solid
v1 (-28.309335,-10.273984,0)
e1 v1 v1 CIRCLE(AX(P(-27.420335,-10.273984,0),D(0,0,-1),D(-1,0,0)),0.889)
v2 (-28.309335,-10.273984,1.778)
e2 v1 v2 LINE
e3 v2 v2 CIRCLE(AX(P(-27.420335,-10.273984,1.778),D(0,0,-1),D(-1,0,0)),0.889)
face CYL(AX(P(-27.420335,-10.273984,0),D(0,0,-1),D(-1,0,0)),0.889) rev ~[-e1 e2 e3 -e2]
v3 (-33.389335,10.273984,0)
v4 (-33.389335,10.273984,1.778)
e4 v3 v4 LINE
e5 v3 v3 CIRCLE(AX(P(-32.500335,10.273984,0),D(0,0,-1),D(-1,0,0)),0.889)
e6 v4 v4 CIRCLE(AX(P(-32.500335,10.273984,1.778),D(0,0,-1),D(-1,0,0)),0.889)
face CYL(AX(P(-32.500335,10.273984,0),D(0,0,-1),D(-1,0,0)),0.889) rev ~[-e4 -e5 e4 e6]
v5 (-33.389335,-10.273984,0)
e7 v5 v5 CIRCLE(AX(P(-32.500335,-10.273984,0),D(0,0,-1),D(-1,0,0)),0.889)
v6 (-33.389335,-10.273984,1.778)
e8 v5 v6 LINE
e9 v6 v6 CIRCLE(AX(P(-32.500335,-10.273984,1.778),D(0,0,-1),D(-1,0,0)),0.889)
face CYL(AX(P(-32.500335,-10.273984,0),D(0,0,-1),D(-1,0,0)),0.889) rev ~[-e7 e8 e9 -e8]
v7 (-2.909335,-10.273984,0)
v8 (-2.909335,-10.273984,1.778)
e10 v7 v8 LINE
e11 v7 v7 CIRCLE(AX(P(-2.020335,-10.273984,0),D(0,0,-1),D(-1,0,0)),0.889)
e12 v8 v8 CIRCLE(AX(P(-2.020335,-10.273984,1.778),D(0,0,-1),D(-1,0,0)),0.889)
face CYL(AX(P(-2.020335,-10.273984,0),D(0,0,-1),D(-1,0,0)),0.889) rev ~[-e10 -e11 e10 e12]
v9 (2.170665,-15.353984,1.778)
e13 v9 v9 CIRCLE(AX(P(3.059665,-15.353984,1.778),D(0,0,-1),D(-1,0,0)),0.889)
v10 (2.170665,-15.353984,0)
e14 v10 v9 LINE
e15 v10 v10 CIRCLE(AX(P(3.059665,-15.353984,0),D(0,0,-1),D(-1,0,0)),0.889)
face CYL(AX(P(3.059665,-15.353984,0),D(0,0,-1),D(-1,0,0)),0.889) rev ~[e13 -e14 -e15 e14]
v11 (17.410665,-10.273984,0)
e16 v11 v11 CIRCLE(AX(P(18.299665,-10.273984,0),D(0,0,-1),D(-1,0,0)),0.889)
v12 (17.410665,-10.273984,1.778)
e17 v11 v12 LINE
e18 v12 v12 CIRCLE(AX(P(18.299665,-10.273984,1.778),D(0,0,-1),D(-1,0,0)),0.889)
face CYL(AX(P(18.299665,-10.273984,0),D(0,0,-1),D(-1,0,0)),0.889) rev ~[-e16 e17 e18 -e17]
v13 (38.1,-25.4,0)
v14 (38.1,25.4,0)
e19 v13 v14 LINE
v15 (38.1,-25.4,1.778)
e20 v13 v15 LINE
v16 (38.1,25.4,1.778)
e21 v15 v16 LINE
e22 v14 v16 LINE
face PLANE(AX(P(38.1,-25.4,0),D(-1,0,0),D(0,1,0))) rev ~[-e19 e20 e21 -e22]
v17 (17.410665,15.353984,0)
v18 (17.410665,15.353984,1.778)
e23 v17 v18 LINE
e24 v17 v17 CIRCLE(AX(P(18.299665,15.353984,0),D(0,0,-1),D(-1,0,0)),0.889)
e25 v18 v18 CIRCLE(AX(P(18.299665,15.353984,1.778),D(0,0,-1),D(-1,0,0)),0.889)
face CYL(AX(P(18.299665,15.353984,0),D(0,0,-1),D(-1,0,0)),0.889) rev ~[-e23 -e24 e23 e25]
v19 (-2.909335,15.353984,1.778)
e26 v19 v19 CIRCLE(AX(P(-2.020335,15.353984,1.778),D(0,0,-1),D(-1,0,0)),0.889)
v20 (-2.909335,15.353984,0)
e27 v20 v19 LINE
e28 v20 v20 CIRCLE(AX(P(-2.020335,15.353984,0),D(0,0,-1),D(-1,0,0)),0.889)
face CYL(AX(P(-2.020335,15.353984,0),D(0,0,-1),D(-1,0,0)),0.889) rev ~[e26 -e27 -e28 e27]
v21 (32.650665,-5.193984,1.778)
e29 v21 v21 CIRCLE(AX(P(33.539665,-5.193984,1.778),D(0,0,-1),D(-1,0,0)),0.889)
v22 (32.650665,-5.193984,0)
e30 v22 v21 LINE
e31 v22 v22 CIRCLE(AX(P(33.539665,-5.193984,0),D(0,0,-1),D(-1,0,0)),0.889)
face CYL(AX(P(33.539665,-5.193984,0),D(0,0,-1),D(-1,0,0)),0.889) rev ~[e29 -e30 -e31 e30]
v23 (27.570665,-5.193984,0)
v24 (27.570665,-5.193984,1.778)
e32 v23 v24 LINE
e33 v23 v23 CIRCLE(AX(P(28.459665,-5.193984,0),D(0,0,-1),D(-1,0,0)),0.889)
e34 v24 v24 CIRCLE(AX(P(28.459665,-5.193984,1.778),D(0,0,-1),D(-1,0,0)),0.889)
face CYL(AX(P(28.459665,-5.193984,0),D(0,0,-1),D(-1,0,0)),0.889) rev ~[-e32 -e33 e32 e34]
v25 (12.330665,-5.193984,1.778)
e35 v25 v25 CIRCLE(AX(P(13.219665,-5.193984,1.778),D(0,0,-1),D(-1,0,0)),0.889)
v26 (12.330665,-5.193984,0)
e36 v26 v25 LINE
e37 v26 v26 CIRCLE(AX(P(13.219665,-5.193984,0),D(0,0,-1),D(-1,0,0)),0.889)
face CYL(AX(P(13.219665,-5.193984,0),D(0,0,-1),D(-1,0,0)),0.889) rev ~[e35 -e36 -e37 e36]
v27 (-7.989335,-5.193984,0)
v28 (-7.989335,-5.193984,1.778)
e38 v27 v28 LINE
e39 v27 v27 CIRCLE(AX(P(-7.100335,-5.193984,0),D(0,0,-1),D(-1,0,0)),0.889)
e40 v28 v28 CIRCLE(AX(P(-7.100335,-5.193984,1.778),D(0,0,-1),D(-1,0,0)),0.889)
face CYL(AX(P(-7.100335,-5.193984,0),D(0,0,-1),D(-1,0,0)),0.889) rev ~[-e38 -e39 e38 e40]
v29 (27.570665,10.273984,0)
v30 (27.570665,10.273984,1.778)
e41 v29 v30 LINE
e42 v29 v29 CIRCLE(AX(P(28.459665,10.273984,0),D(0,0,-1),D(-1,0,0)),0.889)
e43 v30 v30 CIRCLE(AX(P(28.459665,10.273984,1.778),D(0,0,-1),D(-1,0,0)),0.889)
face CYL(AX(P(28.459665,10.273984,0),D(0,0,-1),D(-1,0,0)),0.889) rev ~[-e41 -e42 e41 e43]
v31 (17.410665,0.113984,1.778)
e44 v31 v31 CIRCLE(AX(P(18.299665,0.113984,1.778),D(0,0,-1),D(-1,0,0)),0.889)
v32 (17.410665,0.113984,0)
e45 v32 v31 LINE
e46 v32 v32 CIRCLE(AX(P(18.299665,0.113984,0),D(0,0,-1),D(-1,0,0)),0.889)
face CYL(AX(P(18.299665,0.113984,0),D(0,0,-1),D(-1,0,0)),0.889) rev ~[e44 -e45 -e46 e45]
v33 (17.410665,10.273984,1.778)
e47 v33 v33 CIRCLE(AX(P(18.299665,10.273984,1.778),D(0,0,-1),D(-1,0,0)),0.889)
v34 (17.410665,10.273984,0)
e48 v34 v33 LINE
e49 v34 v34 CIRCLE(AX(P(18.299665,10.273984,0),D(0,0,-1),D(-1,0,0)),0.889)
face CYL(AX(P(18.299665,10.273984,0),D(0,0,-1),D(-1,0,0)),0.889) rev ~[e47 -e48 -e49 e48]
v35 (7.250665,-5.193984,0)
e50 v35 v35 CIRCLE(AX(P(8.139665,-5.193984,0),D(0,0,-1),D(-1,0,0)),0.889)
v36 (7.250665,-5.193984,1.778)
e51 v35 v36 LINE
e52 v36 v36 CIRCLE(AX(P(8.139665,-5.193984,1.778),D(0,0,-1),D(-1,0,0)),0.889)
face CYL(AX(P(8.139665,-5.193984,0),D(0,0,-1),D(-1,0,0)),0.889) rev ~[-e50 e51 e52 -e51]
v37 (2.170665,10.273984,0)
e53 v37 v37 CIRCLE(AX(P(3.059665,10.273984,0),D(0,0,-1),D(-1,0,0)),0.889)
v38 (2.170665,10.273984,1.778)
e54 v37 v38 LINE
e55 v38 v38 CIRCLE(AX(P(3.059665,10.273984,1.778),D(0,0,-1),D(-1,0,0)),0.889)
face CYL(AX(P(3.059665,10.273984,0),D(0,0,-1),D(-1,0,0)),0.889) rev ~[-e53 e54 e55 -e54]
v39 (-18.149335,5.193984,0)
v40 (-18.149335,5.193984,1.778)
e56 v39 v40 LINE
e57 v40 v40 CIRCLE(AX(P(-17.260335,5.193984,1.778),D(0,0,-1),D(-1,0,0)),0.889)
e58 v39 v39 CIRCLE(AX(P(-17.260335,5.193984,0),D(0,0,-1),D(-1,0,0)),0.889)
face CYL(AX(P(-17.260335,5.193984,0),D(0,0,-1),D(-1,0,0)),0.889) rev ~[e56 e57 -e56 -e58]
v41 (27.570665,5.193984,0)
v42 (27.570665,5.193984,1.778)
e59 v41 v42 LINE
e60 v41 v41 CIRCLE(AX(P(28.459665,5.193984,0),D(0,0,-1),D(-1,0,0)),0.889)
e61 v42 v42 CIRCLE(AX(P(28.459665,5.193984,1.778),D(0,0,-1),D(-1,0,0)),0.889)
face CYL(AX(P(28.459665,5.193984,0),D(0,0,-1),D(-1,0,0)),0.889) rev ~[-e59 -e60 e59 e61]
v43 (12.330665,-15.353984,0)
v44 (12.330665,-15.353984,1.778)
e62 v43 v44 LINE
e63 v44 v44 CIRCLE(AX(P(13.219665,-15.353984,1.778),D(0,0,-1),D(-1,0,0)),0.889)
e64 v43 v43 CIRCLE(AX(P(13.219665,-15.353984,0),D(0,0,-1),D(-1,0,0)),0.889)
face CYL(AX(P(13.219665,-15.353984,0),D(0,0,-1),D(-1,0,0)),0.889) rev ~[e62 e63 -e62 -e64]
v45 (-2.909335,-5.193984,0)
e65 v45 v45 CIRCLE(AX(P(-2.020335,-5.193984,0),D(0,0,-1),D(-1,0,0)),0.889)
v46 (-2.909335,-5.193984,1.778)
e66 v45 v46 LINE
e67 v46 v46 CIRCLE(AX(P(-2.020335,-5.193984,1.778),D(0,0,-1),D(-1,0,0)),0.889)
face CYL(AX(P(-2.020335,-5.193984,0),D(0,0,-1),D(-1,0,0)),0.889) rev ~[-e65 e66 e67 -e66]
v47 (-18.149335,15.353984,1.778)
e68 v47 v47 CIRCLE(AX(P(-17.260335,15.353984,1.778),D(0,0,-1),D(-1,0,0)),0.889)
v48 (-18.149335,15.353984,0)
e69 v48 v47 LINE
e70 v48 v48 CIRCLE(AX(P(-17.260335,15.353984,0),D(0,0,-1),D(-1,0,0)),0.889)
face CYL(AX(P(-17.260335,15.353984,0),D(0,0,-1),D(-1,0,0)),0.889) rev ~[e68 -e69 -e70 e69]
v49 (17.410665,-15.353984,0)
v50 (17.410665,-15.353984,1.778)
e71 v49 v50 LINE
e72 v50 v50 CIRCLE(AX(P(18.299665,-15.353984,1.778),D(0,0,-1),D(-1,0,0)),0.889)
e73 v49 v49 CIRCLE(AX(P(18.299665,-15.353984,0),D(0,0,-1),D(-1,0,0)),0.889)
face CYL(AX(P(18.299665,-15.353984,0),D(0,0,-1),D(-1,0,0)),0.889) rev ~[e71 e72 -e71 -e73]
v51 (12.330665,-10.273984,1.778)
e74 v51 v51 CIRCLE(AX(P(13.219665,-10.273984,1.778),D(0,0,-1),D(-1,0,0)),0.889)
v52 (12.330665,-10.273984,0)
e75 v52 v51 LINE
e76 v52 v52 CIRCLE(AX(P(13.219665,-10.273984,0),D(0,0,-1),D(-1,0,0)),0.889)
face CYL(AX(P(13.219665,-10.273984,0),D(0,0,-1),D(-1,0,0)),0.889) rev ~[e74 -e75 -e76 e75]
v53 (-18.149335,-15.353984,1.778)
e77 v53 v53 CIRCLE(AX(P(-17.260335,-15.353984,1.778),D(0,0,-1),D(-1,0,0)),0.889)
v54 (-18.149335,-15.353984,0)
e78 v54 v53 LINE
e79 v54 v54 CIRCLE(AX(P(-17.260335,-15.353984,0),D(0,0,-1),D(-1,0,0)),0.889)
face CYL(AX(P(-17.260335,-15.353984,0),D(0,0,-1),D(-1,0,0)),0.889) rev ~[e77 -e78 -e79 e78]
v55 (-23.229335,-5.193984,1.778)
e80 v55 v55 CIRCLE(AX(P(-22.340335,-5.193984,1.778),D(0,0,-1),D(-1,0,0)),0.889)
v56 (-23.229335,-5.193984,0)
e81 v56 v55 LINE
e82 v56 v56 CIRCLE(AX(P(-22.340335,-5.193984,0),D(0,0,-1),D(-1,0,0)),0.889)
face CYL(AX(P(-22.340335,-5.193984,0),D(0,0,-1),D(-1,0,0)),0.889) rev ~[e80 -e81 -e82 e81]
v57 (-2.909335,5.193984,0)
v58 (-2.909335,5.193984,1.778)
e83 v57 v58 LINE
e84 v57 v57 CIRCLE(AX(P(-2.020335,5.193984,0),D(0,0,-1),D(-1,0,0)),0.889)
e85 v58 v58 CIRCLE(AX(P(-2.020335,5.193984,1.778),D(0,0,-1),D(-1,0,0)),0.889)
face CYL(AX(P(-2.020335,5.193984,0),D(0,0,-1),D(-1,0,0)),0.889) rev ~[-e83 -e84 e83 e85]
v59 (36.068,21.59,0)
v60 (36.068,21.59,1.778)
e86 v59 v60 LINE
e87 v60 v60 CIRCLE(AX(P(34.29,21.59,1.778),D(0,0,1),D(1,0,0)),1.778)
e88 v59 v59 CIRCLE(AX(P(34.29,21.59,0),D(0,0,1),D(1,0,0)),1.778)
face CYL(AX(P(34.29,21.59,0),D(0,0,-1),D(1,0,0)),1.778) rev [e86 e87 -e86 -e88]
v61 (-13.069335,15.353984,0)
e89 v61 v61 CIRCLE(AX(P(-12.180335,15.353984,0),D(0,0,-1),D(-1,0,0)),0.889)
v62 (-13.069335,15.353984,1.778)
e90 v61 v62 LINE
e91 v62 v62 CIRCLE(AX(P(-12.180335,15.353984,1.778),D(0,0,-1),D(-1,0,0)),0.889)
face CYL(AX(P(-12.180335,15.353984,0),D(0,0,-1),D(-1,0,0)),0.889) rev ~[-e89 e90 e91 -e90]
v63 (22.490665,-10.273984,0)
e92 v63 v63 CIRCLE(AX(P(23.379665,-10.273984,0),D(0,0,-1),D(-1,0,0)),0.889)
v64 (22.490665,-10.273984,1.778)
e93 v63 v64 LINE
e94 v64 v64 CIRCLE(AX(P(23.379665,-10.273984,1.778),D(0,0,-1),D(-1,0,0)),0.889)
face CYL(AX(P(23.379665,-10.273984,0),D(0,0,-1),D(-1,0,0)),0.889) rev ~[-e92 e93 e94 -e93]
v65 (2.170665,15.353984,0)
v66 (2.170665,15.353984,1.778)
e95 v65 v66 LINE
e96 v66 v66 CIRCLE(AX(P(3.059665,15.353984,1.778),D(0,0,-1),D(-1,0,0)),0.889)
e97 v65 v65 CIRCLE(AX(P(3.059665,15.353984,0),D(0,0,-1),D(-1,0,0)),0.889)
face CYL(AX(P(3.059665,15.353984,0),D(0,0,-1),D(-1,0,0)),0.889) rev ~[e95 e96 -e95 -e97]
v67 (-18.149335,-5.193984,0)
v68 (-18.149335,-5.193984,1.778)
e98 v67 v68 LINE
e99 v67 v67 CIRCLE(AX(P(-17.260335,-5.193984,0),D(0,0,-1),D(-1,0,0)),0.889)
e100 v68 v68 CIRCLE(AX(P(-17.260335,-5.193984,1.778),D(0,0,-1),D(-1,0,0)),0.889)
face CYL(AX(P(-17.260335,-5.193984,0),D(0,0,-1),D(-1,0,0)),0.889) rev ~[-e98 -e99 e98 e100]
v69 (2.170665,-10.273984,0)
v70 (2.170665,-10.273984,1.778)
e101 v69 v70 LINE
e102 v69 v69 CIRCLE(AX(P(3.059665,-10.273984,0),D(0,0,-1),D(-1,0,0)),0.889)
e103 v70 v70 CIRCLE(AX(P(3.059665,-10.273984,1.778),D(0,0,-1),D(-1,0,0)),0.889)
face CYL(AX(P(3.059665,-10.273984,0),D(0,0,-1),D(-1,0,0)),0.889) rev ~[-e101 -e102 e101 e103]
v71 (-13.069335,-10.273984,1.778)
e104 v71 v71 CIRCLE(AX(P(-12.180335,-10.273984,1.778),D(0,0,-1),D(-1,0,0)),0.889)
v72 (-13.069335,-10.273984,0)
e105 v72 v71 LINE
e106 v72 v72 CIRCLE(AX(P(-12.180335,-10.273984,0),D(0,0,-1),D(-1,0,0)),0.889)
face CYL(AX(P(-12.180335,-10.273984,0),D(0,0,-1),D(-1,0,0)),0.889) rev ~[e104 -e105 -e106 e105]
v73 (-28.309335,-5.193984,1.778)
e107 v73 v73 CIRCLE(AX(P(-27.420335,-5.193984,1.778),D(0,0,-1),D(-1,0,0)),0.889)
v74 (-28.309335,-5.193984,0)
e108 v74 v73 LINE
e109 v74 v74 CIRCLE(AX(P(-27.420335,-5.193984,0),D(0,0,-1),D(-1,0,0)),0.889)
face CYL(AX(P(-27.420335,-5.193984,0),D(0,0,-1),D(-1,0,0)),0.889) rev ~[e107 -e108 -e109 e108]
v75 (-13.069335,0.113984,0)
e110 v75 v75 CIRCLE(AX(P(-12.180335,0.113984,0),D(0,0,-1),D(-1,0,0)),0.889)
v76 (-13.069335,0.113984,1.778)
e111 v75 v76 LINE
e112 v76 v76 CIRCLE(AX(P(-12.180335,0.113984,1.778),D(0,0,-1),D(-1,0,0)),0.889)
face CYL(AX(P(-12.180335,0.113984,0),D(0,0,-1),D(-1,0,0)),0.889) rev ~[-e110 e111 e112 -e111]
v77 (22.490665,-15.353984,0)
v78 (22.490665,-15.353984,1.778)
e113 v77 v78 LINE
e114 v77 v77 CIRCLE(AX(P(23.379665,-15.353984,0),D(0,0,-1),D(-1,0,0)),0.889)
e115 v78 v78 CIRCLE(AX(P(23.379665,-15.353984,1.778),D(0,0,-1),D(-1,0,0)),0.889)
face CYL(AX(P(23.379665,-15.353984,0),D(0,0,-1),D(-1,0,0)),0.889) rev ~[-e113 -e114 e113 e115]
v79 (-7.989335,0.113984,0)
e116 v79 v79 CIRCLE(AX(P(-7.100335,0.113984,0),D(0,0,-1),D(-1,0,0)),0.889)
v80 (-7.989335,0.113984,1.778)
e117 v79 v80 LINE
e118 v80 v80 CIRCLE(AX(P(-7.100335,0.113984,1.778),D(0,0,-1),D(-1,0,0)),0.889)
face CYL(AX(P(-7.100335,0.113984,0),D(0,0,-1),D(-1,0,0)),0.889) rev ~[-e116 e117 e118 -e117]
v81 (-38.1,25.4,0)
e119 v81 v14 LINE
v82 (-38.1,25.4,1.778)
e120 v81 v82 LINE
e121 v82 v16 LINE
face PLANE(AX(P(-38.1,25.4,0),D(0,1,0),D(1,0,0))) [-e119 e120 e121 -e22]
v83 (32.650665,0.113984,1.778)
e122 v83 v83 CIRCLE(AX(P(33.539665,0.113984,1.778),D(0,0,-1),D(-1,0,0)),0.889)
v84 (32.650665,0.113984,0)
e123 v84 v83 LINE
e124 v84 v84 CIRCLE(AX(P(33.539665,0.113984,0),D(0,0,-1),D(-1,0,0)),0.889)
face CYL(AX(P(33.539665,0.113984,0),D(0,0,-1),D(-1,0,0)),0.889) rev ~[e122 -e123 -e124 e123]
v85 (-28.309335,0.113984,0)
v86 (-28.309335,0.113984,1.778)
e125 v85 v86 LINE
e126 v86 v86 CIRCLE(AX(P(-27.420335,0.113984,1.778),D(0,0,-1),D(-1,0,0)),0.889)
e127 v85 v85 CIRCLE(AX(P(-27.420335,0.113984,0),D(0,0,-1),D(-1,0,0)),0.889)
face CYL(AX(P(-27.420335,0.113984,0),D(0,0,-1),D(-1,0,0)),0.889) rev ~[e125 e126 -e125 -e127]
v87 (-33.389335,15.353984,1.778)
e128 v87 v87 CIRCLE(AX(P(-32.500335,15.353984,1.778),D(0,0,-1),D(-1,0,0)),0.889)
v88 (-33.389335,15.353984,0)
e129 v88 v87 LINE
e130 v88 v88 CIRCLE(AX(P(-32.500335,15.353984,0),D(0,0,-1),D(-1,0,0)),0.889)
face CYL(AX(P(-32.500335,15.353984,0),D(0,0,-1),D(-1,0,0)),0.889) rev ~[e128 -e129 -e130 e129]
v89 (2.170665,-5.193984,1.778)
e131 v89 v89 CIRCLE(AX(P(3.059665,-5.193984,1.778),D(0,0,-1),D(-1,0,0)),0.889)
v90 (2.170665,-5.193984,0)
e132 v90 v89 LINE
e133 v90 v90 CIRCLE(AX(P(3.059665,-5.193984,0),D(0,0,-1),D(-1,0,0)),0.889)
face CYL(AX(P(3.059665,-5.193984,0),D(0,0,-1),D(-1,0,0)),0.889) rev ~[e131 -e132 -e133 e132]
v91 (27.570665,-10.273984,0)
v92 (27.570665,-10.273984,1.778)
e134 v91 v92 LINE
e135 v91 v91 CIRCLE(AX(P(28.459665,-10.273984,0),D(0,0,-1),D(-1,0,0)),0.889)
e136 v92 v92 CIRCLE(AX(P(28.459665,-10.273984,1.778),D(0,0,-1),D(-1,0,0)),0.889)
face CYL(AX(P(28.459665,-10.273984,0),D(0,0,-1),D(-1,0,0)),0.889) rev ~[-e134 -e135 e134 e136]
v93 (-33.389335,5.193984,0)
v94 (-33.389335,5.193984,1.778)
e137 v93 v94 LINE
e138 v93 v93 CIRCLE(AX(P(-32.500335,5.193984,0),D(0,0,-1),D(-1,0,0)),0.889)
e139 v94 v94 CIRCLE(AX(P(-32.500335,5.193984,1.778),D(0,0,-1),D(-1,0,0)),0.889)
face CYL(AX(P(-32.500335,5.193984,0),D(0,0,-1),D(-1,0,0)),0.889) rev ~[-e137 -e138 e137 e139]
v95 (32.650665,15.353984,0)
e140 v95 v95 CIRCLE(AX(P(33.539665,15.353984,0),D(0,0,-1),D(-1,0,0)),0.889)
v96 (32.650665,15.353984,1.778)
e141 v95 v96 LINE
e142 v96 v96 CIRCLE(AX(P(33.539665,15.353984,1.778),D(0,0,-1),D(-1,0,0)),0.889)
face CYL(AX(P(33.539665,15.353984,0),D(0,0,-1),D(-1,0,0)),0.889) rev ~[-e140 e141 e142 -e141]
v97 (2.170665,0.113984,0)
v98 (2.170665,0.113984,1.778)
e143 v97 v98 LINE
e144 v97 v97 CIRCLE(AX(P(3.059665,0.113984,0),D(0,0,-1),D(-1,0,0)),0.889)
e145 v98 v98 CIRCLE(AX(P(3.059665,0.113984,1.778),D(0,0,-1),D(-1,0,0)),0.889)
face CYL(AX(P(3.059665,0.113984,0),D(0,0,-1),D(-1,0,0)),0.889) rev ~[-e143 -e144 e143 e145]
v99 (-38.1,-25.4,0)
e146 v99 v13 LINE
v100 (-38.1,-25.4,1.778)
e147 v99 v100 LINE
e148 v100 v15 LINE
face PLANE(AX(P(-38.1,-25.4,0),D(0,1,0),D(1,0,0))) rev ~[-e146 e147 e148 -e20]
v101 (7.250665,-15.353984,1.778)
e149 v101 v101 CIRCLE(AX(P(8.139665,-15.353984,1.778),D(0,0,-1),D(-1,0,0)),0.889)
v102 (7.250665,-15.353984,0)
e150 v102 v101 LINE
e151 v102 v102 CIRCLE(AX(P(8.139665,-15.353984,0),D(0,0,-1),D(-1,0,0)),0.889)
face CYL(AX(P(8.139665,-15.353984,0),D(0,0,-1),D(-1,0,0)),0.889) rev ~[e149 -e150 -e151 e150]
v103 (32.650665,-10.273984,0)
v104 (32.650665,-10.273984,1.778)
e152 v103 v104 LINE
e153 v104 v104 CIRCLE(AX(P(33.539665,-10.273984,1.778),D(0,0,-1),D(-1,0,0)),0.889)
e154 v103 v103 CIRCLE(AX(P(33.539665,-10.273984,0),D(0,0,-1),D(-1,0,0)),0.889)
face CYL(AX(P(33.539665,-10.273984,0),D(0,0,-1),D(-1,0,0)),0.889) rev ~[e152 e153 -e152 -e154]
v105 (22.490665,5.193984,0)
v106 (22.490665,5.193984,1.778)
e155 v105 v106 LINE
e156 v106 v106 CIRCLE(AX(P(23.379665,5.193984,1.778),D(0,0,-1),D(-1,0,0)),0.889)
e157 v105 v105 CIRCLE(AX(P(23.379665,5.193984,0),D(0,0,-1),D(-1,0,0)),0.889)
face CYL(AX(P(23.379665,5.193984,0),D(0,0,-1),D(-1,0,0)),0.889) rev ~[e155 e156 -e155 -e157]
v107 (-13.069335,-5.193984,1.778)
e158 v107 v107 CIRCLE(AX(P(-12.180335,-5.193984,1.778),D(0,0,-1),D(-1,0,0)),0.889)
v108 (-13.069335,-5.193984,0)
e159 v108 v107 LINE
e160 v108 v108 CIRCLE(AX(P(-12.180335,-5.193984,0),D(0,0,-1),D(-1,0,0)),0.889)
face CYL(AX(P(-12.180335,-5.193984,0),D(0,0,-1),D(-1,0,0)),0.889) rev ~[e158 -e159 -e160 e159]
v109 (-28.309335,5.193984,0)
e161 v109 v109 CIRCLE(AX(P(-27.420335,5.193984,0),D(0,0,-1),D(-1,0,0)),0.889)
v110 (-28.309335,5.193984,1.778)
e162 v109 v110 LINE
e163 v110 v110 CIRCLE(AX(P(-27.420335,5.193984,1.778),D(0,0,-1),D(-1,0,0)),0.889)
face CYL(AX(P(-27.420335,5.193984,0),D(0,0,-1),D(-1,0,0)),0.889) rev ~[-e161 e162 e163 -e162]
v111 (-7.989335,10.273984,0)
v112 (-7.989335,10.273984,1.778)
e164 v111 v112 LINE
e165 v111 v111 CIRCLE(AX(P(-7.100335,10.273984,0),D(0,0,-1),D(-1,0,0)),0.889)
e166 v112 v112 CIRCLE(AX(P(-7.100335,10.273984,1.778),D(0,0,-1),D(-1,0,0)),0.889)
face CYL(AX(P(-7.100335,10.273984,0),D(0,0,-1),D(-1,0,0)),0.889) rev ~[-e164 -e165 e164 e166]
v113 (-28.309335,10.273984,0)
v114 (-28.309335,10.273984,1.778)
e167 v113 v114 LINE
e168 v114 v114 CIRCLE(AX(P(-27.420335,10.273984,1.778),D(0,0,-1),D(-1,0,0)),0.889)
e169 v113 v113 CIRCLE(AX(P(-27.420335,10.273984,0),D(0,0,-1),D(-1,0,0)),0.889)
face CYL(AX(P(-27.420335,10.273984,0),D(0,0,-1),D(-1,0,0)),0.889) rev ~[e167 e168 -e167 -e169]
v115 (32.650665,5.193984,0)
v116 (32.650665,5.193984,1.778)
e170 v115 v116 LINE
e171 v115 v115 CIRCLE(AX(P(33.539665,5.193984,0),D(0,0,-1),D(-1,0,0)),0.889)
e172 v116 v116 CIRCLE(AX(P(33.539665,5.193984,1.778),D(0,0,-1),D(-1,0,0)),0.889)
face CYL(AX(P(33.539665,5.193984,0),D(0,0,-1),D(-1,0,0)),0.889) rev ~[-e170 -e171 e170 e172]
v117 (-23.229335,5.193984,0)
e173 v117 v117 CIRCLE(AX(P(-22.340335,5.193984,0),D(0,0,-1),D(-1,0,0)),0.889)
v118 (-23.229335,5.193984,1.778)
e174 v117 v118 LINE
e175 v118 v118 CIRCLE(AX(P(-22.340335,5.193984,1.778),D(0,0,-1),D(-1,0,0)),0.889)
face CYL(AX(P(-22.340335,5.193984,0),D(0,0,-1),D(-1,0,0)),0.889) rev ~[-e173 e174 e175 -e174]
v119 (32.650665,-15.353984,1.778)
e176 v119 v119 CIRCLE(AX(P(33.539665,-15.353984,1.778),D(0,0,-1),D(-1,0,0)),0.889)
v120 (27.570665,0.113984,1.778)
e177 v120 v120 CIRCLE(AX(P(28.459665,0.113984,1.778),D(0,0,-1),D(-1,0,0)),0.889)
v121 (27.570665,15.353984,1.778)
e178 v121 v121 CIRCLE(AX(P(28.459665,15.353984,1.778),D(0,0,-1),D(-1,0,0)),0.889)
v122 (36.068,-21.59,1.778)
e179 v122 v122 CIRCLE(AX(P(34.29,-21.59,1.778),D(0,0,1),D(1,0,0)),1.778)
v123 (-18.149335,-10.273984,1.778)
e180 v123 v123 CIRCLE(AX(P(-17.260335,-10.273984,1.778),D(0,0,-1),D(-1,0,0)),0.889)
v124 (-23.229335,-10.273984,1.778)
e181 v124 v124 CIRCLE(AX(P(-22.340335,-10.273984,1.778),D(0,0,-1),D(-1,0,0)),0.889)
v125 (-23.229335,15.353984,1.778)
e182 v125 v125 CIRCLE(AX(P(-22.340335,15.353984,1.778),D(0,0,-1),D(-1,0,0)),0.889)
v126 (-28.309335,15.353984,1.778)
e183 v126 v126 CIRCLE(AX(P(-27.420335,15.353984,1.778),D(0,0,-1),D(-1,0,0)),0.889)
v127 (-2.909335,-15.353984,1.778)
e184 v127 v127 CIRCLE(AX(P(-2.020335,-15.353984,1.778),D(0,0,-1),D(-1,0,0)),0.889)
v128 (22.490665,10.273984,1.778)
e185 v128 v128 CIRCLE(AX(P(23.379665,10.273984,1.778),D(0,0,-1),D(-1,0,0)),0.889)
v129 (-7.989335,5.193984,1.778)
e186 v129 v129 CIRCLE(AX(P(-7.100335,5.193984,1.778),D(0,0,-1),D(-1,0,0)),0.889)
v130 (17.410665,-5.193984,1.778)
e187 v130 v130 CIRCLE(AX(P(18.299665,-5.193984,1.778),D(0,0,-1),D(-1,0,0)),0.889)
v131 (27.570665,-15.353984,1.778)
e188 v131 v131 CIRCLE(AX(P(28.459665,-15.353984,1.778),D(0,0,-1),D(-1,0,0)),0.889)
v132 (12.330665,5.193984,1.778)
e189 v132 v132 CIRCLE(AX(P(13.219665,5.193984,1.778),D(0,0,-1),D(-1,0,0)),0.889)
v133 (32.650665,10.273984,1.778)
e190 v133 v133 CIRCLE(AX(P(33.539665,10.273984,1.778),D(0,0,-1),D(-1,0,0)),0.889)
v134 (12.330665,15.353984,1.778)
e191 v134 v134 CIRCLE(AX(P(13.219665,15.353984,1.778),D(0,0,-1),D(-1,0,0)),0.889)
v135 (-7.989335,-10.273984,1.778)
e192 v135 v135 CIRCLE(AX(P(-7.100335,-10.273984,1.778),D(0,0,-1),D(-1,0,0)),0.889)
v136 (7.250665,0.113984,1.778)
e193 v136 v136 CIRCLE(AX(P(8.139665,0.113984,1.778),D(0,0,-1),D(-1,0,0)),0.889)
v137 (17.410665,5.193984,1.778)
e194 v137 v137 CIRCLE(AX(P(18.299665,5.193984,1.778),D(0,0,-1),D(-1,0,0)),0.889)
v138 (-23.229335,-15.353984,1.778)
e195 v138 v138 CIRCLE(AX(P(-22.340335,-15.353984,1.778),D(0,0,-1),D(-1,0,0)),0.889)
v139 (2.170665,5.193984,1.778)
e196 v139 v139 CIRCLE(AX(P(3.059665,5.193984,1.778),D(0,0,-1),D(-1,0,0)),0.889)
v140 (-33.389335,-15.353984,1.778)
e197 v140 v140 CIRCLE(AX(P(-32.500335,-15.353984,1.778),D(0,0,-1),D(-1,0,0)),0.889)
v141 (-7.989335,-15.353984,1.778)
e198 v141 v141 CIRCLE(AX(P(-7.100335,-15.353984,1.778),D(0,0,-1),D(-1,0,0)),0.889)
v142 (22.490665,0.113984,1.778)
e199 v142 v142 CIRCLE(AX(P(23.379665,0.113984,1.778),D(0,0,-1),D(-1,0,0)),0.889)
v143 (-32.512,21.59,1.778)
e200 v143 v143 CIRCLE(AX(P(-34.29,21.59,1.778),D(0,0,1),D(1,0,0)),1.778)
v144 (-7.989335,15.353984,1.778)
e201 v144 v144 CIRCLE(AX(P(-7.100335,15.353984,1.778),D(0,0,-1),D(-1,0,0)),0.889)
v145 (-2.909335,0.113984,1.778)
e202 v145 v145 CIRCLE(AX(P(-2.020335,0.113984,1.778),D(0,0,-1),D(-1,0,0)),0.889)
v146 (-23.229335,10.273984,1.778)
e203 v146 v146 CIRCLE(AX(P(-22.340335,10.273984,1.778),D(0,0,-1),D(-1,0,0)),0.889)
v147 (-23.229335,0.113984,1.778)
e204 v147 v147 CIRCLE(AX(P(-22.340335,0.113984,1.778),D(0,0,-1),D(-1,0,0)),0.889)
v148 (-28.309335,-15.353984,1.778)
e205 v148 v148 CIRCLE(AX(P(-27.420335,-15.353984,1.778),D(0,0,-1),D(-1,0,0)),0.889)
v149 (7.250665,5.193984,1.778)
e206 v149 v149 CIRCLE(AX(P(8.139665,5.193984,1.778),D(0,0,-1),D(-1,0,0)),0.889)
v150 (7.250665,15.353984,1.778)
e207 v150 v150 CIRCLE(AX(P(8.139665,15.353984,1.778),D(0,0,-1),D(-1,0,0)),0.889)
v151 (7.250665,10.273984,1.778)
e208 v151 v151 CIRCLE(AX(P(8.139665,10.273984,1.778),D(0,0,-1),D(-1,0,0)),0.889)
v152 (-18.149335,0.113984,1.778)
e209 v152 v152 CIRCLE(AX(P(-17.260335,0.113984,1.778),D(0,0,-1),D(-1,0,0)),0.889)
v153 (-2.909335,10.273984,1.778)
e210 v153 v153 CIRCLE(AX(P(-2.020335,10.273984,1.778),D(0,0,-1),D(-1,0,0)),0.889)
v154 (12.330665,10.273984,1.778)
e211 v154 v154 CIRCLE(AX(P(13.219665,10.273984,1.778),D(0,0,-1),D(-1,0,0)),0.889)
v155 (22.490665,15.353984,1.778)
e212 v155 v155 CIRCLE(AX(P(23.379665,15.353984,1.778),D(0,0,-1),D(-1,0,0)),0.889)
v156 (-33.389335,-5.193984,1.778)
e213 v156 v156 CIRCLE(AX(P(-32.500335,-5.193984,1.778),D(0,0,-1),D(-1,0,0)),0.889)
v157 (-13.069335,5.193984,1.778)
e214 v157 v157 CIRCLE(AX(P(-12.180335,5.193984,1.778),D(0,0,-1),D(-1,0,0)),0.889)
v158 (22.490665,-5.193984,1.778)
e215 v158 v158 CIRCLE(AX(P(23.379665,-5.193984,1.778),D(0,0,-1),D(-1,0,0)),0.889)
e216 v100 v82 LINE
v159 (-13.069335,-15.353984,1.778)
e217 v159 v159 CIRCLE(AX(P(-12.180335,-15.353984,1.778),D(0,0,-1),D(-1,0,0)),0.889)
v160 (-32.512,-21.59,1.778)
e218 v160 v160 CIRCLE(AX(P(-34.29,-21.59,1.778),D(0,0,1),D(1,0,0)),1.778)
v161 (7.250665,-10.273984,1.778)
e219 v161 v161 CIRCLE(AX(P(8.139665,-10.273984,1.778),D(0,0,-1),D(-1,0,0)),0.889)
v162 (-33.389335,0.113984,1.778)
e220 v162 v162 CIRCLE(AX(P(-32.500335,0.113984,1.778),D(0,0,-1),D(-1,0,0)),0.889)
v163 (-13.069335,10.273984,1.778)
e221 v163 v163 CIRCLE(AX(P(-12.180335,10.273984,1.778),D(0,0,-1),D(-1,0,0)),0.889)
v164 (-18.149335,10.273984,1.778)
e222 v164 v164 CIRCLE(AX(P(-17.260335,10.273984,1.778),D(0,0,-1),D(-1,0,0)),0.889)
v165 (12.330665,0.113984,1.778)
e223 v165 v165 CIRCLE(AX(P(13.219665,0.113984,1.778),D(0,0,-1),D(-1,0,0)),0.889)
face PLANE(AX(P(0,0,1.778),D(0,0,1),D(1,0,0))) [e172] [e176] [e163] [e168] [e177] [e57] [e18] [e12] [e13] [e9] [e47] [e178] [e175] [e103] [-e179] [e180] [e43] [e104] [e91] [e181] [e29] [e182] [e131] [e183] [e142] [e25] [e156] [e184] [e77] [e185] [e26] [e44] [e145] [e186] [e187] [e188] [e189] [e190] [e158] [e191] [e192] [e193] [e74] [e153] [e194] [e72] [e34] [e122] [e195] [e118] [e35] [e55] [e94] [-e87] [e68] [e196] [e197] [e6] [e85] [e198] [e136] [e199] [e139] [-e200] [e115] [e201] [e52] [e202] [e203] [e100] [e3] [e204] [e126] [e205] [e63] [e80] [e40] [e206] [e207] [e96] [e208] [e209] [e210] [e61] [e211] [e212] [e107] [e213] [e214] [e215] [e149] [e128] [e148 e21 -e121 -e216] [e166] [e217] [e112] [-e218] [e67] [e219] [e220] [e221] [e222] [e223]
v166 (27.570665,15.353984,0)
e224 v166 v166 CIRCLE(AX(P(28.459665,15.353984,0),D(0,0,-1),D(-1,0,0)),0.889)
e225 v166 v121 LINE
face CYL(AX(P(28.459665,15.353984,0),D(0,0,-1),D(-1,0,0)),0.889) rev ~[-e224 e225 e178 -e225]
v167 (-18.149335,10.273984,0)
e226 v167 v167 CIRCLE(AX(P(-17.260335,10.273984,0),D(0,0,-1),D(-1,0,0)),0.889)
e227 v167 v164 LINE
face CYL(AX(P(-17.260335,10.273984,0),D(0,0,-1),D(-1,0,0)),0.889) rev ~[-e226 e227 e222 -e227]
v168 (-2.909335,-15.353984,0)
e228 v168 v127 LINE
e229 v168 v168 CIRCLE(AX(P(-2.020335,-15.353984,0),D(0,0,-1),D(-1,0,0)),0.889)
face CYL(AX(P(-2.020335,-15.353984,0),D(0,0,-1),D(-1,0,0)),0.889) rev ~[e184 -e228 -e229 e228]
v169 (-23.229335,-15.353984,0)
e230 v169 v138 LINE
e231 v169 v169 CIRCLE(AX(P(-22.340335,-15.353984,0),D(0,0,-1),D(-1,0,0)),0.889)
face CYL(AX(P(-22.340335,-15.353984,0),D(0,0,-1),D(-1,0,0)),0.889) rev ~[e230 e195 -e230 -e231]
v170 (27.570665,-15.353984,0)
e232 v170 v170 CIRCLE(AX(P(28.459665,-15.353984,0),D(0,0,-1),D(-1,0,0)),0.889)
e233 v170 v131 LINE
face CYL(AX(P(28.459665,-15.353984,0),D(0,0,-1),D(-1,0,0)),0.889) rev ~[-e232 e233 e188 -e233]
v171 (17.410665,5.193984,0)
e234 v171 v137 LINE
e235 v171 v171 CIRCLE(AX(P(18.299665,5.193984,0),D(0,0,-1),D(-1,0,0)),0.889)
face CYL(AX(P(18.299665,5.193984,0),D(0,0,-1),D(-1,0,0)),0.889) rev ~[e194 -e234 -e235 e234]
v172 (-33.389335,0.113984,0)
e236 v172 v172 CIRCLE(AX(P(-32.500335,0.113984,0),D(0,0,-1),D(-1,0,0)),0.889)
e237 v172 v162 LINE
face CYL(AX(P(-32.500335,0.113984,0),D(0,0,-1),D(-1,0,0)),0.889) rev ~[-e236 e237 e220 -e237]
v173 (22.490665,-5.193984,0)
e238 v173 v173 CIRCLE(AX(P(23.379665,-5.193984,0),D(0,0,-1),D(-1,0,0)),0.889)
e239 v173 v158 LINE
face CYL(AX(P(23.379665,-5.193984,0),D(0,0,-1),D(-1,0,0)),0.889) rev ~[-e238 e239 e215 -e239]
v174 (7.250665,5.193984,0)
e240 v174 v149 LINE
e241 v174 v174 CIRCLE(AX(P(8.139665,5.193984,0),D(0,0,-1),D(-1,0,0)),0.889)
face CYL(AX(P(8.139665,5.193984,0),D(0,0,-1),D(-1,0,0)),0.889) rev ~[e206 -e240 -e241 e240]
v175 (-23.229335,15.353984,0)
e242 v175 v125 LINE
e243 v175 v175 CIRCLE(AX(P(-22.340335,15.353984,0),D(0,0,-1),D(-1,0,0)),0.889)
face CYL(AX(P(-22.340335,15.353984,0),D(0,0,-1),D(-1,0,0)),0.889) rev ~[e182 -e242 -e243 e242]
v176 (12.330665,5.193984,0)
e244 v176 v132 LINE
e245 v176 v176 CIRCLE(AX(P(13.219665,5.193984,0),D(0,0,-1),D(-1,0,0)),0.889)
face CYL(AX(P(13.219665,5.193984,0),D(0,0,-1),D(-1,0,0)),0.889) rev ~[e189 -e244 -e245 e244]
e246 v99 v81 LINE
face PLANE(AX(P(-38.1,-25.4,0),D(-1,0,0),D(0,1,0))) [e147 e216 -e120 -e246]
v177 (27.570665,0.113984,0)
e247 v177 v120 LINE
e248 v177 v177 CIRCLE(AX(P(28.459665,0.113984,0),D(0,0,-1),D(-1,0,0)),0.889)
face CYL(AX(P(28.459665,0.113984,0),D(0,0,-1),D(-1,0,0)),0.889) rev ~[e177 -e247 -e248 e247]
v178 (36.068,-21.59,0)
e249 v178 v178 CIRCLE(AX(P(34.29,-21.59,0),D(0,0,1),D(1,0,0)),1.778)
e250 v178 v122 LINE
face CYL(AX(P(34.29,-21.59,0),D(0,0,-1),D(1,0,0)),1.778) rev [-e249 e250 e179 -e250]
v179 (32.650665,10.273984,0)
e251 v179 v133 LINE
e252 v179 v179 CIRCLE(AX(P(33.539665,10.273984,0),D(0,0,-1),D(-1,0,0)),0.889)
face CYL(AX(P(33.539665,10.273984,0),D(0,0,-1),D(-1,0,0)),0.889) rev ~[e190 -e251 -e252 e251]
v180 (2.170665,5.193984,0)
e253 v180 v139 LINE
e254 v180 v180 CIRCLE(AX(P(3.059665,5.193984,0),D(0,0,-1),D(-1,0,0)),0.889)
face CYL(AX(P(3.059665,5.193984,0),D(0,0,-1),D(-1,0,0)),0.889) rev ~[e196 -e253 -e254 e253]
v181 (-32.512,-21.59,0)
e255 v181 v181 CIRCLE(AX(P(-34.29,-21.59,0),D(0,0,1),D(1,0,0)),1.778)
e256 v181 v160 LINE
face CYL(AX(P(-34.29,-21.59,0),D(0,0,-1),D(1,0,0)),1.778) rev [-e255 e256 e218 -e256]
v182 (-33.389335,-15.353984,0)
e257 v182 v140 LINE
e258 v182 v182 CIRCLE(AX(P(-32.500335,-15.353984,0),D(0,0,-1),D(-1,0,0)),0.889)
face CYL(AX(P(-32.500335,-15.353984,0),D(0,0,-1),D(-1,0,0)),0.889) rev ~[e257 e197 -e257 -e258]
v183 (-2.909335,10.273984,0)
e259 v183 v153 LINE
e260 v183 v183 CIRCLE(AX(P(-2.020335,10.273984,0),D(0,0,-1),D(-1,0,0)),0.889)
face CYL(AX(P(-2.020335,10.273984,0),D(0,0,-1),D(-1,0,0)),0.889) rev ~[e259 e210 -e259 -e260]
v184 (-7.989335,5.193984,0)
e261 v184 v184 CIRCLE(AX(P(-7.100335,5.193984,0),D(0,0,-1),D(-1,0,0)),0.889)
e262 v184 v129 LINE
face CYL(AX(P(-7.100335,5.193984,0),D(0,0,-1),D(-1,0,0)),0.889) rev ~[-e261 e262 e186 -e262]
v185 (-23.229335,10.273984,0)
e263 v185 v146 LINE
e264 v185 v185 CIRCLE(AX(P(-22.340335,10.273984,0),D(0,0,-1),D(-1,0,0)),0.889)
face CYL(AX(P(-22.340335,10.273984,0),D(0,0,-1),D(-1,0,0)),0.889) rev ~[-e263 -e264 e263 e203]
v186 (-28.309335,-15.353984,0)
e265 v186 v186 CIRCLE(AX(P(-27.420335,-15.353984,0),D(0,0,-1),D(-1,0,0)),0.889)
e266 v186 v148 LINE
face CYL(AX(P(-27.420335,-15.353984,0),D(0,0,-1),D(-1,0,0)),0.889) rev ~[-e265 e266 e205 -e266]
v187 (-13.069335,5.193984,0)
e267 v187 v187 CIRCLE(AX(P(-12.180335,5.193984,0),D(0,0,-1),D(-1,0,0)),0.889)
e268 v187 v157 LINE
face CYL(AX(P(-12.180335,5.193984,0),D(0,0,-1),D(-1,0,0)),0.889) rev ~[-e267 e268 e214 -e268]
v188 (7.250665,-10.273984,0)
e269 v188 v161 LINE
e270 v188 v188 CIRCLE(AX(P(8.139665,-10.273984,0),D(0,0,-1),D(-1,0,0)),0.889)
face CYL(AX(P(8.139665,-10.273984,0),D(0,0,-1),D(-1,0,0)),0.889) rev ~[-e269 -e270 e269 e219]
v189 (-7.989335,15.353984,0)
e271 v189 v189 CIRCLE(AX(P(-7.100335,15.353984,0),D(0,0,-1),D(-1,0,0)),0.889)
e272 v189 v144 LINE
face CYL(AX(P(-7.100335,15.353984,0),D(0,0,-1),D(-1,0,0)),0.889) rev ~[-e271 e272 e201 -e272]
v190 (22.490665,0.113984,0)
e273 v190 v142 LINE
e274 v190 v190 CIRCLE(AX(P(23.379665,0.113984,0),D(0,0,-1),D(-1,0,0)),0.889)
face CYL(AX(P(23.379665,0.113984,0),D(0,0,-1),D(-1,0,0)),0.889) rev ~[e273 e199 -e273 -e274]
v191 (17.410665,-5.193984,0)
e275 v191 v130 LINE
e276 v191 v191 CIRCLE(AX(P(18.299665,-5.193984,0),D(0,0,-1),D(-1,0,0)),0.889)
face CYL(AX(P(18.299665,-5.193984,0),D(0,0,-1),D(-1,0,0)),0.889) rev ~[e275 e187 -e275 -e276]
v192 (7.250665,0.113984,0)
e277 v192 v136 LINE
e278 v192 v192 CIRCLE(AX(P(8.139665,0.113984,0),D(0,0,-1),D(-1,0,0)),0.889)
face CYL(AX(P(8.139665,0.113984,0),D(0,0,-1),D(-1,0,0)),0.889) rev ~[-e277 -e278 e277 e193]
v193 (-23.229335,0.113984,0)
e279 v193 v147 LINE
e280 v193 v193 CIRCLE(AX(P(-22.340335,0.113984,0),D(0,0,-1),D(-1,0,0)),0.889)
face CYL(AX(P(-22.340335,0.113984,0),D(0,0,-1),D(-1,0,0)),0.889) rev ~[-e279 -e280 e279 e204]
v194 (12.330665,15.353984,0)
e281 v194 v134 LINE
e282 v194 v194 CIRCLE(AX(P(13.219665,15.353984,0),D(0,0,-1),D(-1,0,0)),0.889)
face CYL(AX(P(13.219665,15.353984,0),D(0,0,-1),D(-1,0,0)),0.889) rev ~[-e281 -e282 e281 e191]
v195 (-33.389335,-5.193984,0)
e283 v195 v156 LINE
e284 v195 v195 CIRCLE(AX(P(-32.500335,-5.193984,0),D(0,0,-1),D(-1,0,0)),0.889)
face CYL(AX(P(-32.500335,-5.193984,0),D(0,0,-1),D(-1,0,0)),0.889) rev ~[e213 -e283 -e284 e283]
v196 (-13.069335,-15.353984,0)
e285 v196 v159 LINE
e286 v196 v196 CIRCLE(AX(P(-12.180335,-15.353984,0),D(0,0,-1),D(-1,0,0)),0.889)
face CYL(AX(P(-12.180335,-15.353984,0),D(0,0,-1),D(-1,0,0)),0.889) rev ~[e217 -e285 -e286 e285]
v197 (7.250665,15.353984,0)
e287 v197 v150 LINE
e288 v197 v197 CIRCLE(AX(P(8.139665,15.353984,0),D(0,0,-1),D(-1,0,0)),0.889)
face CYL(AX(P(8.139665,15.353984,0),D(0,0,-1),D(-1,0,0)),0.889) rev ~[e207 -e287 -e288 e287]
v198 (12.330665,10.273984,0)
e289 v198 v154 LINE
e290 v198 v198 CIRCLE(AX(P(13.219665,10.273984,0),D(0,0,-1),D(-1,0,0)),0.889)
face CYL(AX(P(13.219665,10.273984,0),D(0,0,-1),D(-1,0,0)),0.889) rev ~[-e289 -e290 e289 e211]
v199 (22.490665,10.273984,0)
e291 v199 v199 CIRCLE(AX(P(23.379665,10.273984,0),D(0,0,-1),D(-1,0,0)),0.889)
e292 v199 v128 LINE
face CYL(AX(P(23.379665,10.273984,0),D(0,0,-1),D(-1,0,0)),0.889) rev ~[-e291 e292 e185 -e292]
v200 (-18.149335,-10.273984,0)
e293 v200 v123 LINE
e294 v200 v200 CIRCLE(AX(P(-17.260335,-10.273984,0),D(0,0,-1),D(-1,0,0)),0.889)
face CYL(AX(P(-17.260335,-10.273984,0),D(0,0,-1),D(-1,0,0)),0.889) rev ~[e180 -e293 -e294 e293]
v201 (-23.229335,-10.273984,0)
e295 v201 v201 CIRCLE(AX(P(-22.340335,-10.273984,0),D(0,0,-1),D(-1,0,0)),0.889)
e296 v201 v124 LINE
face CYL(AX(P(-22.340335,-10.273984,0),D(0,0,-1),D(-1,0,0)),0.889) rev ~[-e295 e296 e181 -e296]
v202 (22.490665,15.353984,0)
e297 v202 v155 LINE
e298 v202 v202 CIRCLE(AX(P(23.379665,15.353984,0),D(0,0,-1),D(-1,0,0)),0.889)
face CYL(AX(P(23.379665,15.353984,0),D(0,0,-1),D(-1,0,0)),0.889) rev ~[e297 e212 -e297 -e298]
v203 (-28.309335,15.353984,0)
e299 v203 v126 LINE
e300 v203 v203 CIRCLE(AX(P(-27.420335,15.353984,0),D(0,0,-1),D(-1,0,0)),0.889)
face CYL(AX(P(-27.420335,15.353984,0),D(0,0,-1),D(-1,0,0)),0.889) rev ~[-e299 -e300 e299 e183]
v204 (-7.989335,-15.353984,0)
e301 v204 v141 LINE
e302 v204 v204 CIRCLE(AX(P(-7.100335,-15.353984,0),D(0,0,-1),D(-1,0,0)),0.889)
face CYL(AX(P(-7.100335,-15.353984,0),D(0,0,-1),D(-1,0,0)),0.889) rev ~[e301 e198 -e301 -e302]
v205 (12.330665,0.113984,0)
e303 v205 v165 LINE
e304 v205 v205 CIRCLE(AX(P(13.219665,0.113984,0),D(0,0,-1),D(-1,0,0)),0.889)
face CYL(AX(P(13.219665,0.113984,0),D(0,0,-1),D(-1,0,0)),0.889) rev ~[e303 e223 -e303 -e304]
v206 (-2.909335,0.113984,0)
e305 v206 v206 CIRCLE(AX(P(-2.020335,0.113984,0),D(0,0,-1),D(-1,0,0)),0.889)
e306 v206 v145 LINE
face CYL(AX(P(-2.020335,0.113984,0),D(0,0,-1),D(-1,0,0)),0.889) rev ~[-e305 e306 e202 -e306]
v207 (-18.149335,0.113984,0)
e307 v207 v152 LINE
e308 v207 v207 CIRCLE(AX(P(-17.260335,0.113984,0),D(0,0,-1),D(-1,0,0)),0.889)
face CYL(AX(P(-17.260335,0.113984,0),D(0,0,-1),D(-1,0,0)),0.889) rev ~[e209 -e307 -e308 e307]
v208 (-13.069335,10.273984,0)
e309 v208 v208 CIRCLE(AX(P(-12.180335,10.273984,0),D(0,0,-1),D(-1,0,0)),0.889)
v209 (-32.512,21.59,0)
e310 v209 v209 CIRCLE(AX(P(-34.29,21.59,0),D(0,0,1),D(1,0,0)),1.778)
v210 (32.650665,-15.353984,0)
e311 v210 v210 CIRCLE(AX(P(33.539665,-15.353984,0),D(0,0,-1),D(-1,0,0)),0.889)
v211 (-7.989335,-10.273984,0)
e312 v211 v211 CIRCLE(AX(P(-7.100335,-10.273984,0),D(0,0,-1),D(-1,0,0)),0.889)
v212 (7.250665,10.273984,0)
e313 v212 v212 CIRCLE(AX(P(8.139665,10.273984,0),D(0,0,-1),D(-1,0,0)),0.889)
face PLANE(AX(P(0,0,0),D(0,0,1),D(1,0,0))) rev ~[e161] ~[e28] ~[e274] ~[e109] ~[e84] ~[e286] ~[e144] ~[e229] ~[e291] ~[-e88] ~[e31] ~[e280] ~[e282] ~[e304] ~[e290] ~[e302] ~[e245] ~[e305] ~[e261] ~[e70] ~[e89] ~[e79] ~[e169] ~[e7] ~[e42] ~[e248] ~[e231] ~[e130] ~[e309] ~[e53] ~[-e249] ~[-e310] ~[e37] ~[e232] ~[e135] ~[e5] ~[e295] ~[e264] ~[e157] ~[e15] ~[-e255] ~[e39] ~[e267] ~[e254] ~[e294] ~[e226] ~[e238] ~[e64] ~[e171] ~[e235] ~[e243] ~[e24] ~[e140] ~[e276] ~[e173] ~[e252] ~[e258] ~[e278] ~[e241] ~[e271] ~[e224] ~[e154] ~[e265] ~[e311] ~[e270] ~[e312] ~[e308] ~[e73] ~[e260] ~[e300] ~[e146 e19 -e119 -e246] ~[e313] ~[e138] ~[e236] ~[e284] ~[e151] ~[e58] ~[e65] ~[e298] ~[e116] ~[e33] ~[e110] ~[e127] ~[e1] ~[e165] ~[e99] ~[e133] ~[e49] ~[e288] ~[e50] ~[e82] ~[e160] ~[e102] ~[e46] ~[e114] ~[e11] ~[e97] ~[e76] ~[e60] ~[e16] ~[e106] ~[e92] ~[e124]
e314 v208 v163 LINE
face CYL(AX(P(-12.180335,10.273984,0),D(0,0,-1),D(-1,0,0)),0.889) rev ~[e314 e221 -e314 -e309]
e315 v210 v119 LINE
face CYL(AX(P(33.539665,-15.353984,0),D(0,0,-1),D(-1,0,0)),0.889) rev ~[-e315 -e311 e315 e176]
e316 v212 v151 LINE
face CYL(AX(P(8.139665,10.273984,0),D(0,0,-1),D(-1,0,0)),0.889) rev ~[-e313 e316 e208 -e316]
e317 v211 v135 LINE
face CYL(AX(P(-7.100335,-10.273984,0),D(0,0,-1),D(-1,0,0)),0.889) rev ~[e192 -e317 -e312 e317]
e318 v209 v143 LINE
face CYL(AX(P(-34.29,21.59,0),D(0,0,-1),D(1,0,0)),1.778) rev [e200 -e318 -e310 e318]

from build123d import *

# Parameters (mm, degrees)
SKETCH1_W           = 76.2
SKETCH1_H           = 50.8
SKETCH1_R           = 1.778
BOSS_EXTRUDE1_DEPTH = 1.778
SKETCH2_R           = 0.889
CUT_EXTRUDE1_DEPTH  = 2.778


with BuildPart() as part:
    # Sketch1 → Boss-Extrude1 (new body)
    with BuildSketch(Plane.XY):
        Rectangle(SKETCH1_W, SKETCH1_H)
        with Locations((-34.29, 21.59)):
            Circle(SKETCH1_R, mode=Mode.SUBTRACT)
        with Locations((-34.29, -21.59)):
            Circle(SKETCH1_R, mode=Mode.SUBTRACT)
        with Locations((34.29, 21.59)):
            Circle(SKETCH1_R, mode=Mode.SUBTRACT)
        with Locations((34.29, -21.59)):
            Circle(SKETCH1_R, mode=Mode.SUBTRACT)
    extrude(amount=BOSS_EXTRUDE1_DEPTH)

    # Sketch2 → Cut-Extrude1 (cut, through all)
    with BuildSketch(Plane(origin=(0, 0, 0), x_dir=(-1, 0, 0), z_dir=(0, 0, -1))):
        with Locations((27.420334743, 15.353983533)):
            Circle(SKETCH2_R)
        with Locations((32.500334743, 15.353983533)):
            Circle(SKETCH2_R)
        with Locations((27.420334743, 10.273983533)):
            Circle(SKETCH2_R)
        with Locations((32.500334743, 10.273983533)):
            Circle(SKETCH2_R)
        with Locations((17.260334743, 15.353983533)):
            Circle(SKETCH2_R)
        with Locations((22.340334743, 15.353983533)):
            Circle(SKETCH2_R)
        with Locations((17.260334743, 10.273983533)):
            Circle(SKETCH2_R)
        with Locations((22.340334743, 10.273983533)):
            Circle(SKETCH2_R)
        with Locations((17.260334743, 5.193983533)):
            Circle(SKETCH2_R)
        with Locations((22.340334743, 5.193983533)):
            Circle(SKETCH2_R)
        with Locations((17.260334743, 0.113983533)):
            Circle(SKETCH2_R)
        with Locations((22.340334743, 0.113983533)):
            Circle(SKETCH2_R)
        with Locations((7.100334743, 15.353983533)):
            Circle(SKETCH2_R)
        with Locations((12.180334743, 15.353983533)):
            Circle(SKETCH2_R)
        with Locations((7.100334743, 10.273983533)):
            Circle(SKETCH2_R)
        with Locations((12.180334743, 10.273983533)):
            Circle(SKETCH2_R)
        with Locations((7.100334743, 5.193983533)):
            Circle(SKETCH2_R)
        with Locations((12.180334743, 5.193983533)):
            Circle(SKETCH2_R)
        with Locations((7.100334743, 0.113983533)):
            Circle(SKETCH2_R)
        with Locations((12.180334743, 0.113983533)):
            Circle(SKETCH2_R)
        with Locations((-3.059665257, 15.353983533)):
            Circle(SKETCH2_R)
        with Locations((2.020334743, 15.353983533)):
            Circle(SKETCH2_R)
        with Locations((27.420334743, 5.193983533)):
            Circle(SKETCH2_R)
        with Locations((32.500334743, 5.193983533)):
            Circle(SKETCH2_R)
        with Locations((27.420334743, 0.113983533)):
            Circle(SKETCH2_R)
        with Locations((32.500334743, 0.113983533)):
            Circle(SKETCH2_R)
        with Locations((-3.059665257, 10.273983533)):
            Circle(SKETCH2_R)
        with Locations((2.020334743, 10.273983533)):
            Circle(SKETCH2_R)
        with Locations((-3.059665257, 5.193983533)):
            Circle(SKETCH2_R)
        with Locations((2.020334743, 5.193983533)):
            Circle(SKETCH2_R)
        with Locations((-3.059665257, 0.113983533)):
            Circle(SKETCH2_R)
        with Locations((2.020334743, 0.113983533)):
            Circle(SKETCH2_R)
        with Locations((-13.219665257, 15.353983533)):
            Circle(SKETCH2_R)
        with Locations((-8.139665257, 15.353983533)):
            Circle(SKETCH2_R)
        with Locations((-13.219665257, 10.273983533)):
            Circle(SKETCH2_R)
        with Locations((-8.139665257, 10.273983533)):
            Circle(SKETCH2_R)
        with Locations((-13.219665257, 5.193983533)):
            Circle(SKETCH2_R)
        with Locations((-8.139665257, 5.193983533)):
            Circle(SKETCH2_R)
        with Locations((-13.219665257, 0.113983533)):
            Circle(SKETCH2_R)
        with Locations((-8.139665257, 0.113983533)):
            Circle(SKETCH2_R)
        with Locations((-23.379665257, 15.353983533)):
            Circle(SKETCH2_R)
        with Locations((-18.299665257, 15.353983533)):
            Circle(SKETCH2_R)
        with Locations((-23.379665257, 10.273983533)):
            Circle(SKETCH2_R)
        with Locations((-18.299665257, 10.273983533)):
            Circle(SKETCH2_R)
        with Locations((-23.379665257, 5.193983533)):
            Circle(SKETCH2_R)
        with Locations((-18.299665257, 5.193983533)):
            Circle(SKETCH2_R)
        with Locations((-23.379665257, 0.113983533)):
            Circle(SKETCH2_R)
        with Locations((-18.299665257, 0.113983533)):
            Circle(SKETCH2_R)
        with Locations((-33.539665257, 15.353983533)):
            Circle(SKETCH2_R)
        with Locations((-28.459665257, 15.353983533)):
            Circle(SKETCH2_R)
        with Locations((-33.539665257, 10.273983533)):
            Circle(SKETCH2_R)
        with Locations((-28.459665257, 10.273983533)):
            Circle(SKETCH2_R)
        with Locations((-33.539665257, 5.193983533)):
            Circle(SKETCH2_R)
        with Locations((-28.459665257, 5.193983533)):
            Circle(SKETCH2_R)
        with Locations((-33.539665257, 0.113983533)):
            Circle(SKETCH2_R)
        with Locations((-28.459665257, 0.113983533)):
            Circle(SKETCH2_R)
        with Locations((-28.459665257, -5.193983533)):
            Circle(SKETCH2_R)
        with Locations((-33.539665257, -5.193983533)):
            Circle(SKETCH2_R)
        with Locations((-28.459665257, -10.273983533)):
            Circle(SKETCH2_R)
        with Locations((-33.539665257, -10.273983533)):
            Circle(SKETCH2_R)
        with Locations((-28.459665257, -15.353983533)):
            Circle(SKETCH2_R)
        with Locations((-33.539665257, -15.353983533)):
            Circle(SKETCH2_R)
        with Locations((-18.299665257, -5.193983533)):
            Circle(SKETCH2_R)
        with Locations((-23.379665257, -5.193983533)):
            Circle(SKETCH2_R)
        with Locations((-18.299665257, -10.273983533)):
            Circle(SKETCH2_R)
        with Locations((-23.379665257, -10.273983533)):
            Circle(SKETCH2_R)
        with Locations((-18.299665257, -15.353983533)):
            Circle(SKETCH2_R)
        with Locations((-23.379665257, -15.353983533)):
            Circle(SKETCH2_R)
        with Locations((-8.139665257, -5.193983533)):
            Circle(SKETCH2_R)
        with Locations((-13.219665257, -5.193983533)):
            Circle(SKETCH2_R)
        with Locations((-8.139665257, -10.273983533)):
            Circle(SKETCH2_R)
        with Locations((-13.219665257, -10.273983533)):
            Circle(SKETCH2_R)
        with Locations((-8.139665257, -15.353983533)):
            Circle(SKETCH2_R)
        with Locations((-13.219665257, -15.353983533)):
            Circle(SKETCH2_R)
        with Locations((2.020334743, -5.193983533)):
            Circle(SKETCH2_R)
        with Locations((-3.059665257, -5.193983533)):
            Circle(SKETCH2_R)
        with Locations((2.020334743, -10.273983533)):
            Circle(SKETCH2_R)
        with Locations((-3.059665257, -10.273983533)):
            Circle(SKETCH2_R)
        with Locations((32.500334743, -5.193983533)):
            Circle(SKETCH2_R)
        with Locations((27.420334743, -5.193983533)):
            Circle(SKETCH2_R)
        with Locations((2.020334743, -15.353983533)):
            Circle(SKETCH2_R)
        with Locations((-3.059665257, -15.353983533)):
            Circle(SKETCH2_R)
        with Locations((12.180334743, -5.193983533)):
            Circle(SKETCH2_R)
        with Locations((7.100334743, -5.193983533)):
            Circle(SKETCH2_R)
        with Locations((12.180334743, -10.273983533)):
            Circle(SKETCH2_R)
        with Locations((7.100334743, -10.273983533)):
            Circle(SKETCH2_R)
        with Locations((12.180334743, -15.353983533)):
            Circle(SKETCH2_R)
        with Locations((7.100334743, -15.353983533)):
            Circle(SKETCH2_R)
        with Locations((22.340334743, -5.193983533)):
            Circle(SKETCH2_R)
        with Locations((17.260334743, -5.193983533)):
            Circle(SKETCH2_R)
        with Locations((22.340334743, -10.273983533)):
            Circle(SKETCH2_R)
        with Locations((17.260334743, -10.273983533)):
            Circle(SKETCH2_R)
        with Locations((22.340334743, -15.353983533)):
            Circle(SKETCH2_R)
        with Locations((17.260334743, -15.353983533)):
            Circle(SKETCH2_R)
        with Locations((32.500334743, -10.273983533)):
            Circle(SKETCH2_R)
        with Locations((27.420334743, -10.273983533)):
            Circle(SKETCH2_R)
        with Locations((32.500334743, -15.353983533)):
            Circle(SKETCH2_R)
        with Locations((27.420334743, -15.353983533)):
            Circle(SKETCH2_R)
    extrude(amount=-CUT_EXTRUDE1_DEPTH, mode=Mode.SUBTRACT)


solid = part.part
